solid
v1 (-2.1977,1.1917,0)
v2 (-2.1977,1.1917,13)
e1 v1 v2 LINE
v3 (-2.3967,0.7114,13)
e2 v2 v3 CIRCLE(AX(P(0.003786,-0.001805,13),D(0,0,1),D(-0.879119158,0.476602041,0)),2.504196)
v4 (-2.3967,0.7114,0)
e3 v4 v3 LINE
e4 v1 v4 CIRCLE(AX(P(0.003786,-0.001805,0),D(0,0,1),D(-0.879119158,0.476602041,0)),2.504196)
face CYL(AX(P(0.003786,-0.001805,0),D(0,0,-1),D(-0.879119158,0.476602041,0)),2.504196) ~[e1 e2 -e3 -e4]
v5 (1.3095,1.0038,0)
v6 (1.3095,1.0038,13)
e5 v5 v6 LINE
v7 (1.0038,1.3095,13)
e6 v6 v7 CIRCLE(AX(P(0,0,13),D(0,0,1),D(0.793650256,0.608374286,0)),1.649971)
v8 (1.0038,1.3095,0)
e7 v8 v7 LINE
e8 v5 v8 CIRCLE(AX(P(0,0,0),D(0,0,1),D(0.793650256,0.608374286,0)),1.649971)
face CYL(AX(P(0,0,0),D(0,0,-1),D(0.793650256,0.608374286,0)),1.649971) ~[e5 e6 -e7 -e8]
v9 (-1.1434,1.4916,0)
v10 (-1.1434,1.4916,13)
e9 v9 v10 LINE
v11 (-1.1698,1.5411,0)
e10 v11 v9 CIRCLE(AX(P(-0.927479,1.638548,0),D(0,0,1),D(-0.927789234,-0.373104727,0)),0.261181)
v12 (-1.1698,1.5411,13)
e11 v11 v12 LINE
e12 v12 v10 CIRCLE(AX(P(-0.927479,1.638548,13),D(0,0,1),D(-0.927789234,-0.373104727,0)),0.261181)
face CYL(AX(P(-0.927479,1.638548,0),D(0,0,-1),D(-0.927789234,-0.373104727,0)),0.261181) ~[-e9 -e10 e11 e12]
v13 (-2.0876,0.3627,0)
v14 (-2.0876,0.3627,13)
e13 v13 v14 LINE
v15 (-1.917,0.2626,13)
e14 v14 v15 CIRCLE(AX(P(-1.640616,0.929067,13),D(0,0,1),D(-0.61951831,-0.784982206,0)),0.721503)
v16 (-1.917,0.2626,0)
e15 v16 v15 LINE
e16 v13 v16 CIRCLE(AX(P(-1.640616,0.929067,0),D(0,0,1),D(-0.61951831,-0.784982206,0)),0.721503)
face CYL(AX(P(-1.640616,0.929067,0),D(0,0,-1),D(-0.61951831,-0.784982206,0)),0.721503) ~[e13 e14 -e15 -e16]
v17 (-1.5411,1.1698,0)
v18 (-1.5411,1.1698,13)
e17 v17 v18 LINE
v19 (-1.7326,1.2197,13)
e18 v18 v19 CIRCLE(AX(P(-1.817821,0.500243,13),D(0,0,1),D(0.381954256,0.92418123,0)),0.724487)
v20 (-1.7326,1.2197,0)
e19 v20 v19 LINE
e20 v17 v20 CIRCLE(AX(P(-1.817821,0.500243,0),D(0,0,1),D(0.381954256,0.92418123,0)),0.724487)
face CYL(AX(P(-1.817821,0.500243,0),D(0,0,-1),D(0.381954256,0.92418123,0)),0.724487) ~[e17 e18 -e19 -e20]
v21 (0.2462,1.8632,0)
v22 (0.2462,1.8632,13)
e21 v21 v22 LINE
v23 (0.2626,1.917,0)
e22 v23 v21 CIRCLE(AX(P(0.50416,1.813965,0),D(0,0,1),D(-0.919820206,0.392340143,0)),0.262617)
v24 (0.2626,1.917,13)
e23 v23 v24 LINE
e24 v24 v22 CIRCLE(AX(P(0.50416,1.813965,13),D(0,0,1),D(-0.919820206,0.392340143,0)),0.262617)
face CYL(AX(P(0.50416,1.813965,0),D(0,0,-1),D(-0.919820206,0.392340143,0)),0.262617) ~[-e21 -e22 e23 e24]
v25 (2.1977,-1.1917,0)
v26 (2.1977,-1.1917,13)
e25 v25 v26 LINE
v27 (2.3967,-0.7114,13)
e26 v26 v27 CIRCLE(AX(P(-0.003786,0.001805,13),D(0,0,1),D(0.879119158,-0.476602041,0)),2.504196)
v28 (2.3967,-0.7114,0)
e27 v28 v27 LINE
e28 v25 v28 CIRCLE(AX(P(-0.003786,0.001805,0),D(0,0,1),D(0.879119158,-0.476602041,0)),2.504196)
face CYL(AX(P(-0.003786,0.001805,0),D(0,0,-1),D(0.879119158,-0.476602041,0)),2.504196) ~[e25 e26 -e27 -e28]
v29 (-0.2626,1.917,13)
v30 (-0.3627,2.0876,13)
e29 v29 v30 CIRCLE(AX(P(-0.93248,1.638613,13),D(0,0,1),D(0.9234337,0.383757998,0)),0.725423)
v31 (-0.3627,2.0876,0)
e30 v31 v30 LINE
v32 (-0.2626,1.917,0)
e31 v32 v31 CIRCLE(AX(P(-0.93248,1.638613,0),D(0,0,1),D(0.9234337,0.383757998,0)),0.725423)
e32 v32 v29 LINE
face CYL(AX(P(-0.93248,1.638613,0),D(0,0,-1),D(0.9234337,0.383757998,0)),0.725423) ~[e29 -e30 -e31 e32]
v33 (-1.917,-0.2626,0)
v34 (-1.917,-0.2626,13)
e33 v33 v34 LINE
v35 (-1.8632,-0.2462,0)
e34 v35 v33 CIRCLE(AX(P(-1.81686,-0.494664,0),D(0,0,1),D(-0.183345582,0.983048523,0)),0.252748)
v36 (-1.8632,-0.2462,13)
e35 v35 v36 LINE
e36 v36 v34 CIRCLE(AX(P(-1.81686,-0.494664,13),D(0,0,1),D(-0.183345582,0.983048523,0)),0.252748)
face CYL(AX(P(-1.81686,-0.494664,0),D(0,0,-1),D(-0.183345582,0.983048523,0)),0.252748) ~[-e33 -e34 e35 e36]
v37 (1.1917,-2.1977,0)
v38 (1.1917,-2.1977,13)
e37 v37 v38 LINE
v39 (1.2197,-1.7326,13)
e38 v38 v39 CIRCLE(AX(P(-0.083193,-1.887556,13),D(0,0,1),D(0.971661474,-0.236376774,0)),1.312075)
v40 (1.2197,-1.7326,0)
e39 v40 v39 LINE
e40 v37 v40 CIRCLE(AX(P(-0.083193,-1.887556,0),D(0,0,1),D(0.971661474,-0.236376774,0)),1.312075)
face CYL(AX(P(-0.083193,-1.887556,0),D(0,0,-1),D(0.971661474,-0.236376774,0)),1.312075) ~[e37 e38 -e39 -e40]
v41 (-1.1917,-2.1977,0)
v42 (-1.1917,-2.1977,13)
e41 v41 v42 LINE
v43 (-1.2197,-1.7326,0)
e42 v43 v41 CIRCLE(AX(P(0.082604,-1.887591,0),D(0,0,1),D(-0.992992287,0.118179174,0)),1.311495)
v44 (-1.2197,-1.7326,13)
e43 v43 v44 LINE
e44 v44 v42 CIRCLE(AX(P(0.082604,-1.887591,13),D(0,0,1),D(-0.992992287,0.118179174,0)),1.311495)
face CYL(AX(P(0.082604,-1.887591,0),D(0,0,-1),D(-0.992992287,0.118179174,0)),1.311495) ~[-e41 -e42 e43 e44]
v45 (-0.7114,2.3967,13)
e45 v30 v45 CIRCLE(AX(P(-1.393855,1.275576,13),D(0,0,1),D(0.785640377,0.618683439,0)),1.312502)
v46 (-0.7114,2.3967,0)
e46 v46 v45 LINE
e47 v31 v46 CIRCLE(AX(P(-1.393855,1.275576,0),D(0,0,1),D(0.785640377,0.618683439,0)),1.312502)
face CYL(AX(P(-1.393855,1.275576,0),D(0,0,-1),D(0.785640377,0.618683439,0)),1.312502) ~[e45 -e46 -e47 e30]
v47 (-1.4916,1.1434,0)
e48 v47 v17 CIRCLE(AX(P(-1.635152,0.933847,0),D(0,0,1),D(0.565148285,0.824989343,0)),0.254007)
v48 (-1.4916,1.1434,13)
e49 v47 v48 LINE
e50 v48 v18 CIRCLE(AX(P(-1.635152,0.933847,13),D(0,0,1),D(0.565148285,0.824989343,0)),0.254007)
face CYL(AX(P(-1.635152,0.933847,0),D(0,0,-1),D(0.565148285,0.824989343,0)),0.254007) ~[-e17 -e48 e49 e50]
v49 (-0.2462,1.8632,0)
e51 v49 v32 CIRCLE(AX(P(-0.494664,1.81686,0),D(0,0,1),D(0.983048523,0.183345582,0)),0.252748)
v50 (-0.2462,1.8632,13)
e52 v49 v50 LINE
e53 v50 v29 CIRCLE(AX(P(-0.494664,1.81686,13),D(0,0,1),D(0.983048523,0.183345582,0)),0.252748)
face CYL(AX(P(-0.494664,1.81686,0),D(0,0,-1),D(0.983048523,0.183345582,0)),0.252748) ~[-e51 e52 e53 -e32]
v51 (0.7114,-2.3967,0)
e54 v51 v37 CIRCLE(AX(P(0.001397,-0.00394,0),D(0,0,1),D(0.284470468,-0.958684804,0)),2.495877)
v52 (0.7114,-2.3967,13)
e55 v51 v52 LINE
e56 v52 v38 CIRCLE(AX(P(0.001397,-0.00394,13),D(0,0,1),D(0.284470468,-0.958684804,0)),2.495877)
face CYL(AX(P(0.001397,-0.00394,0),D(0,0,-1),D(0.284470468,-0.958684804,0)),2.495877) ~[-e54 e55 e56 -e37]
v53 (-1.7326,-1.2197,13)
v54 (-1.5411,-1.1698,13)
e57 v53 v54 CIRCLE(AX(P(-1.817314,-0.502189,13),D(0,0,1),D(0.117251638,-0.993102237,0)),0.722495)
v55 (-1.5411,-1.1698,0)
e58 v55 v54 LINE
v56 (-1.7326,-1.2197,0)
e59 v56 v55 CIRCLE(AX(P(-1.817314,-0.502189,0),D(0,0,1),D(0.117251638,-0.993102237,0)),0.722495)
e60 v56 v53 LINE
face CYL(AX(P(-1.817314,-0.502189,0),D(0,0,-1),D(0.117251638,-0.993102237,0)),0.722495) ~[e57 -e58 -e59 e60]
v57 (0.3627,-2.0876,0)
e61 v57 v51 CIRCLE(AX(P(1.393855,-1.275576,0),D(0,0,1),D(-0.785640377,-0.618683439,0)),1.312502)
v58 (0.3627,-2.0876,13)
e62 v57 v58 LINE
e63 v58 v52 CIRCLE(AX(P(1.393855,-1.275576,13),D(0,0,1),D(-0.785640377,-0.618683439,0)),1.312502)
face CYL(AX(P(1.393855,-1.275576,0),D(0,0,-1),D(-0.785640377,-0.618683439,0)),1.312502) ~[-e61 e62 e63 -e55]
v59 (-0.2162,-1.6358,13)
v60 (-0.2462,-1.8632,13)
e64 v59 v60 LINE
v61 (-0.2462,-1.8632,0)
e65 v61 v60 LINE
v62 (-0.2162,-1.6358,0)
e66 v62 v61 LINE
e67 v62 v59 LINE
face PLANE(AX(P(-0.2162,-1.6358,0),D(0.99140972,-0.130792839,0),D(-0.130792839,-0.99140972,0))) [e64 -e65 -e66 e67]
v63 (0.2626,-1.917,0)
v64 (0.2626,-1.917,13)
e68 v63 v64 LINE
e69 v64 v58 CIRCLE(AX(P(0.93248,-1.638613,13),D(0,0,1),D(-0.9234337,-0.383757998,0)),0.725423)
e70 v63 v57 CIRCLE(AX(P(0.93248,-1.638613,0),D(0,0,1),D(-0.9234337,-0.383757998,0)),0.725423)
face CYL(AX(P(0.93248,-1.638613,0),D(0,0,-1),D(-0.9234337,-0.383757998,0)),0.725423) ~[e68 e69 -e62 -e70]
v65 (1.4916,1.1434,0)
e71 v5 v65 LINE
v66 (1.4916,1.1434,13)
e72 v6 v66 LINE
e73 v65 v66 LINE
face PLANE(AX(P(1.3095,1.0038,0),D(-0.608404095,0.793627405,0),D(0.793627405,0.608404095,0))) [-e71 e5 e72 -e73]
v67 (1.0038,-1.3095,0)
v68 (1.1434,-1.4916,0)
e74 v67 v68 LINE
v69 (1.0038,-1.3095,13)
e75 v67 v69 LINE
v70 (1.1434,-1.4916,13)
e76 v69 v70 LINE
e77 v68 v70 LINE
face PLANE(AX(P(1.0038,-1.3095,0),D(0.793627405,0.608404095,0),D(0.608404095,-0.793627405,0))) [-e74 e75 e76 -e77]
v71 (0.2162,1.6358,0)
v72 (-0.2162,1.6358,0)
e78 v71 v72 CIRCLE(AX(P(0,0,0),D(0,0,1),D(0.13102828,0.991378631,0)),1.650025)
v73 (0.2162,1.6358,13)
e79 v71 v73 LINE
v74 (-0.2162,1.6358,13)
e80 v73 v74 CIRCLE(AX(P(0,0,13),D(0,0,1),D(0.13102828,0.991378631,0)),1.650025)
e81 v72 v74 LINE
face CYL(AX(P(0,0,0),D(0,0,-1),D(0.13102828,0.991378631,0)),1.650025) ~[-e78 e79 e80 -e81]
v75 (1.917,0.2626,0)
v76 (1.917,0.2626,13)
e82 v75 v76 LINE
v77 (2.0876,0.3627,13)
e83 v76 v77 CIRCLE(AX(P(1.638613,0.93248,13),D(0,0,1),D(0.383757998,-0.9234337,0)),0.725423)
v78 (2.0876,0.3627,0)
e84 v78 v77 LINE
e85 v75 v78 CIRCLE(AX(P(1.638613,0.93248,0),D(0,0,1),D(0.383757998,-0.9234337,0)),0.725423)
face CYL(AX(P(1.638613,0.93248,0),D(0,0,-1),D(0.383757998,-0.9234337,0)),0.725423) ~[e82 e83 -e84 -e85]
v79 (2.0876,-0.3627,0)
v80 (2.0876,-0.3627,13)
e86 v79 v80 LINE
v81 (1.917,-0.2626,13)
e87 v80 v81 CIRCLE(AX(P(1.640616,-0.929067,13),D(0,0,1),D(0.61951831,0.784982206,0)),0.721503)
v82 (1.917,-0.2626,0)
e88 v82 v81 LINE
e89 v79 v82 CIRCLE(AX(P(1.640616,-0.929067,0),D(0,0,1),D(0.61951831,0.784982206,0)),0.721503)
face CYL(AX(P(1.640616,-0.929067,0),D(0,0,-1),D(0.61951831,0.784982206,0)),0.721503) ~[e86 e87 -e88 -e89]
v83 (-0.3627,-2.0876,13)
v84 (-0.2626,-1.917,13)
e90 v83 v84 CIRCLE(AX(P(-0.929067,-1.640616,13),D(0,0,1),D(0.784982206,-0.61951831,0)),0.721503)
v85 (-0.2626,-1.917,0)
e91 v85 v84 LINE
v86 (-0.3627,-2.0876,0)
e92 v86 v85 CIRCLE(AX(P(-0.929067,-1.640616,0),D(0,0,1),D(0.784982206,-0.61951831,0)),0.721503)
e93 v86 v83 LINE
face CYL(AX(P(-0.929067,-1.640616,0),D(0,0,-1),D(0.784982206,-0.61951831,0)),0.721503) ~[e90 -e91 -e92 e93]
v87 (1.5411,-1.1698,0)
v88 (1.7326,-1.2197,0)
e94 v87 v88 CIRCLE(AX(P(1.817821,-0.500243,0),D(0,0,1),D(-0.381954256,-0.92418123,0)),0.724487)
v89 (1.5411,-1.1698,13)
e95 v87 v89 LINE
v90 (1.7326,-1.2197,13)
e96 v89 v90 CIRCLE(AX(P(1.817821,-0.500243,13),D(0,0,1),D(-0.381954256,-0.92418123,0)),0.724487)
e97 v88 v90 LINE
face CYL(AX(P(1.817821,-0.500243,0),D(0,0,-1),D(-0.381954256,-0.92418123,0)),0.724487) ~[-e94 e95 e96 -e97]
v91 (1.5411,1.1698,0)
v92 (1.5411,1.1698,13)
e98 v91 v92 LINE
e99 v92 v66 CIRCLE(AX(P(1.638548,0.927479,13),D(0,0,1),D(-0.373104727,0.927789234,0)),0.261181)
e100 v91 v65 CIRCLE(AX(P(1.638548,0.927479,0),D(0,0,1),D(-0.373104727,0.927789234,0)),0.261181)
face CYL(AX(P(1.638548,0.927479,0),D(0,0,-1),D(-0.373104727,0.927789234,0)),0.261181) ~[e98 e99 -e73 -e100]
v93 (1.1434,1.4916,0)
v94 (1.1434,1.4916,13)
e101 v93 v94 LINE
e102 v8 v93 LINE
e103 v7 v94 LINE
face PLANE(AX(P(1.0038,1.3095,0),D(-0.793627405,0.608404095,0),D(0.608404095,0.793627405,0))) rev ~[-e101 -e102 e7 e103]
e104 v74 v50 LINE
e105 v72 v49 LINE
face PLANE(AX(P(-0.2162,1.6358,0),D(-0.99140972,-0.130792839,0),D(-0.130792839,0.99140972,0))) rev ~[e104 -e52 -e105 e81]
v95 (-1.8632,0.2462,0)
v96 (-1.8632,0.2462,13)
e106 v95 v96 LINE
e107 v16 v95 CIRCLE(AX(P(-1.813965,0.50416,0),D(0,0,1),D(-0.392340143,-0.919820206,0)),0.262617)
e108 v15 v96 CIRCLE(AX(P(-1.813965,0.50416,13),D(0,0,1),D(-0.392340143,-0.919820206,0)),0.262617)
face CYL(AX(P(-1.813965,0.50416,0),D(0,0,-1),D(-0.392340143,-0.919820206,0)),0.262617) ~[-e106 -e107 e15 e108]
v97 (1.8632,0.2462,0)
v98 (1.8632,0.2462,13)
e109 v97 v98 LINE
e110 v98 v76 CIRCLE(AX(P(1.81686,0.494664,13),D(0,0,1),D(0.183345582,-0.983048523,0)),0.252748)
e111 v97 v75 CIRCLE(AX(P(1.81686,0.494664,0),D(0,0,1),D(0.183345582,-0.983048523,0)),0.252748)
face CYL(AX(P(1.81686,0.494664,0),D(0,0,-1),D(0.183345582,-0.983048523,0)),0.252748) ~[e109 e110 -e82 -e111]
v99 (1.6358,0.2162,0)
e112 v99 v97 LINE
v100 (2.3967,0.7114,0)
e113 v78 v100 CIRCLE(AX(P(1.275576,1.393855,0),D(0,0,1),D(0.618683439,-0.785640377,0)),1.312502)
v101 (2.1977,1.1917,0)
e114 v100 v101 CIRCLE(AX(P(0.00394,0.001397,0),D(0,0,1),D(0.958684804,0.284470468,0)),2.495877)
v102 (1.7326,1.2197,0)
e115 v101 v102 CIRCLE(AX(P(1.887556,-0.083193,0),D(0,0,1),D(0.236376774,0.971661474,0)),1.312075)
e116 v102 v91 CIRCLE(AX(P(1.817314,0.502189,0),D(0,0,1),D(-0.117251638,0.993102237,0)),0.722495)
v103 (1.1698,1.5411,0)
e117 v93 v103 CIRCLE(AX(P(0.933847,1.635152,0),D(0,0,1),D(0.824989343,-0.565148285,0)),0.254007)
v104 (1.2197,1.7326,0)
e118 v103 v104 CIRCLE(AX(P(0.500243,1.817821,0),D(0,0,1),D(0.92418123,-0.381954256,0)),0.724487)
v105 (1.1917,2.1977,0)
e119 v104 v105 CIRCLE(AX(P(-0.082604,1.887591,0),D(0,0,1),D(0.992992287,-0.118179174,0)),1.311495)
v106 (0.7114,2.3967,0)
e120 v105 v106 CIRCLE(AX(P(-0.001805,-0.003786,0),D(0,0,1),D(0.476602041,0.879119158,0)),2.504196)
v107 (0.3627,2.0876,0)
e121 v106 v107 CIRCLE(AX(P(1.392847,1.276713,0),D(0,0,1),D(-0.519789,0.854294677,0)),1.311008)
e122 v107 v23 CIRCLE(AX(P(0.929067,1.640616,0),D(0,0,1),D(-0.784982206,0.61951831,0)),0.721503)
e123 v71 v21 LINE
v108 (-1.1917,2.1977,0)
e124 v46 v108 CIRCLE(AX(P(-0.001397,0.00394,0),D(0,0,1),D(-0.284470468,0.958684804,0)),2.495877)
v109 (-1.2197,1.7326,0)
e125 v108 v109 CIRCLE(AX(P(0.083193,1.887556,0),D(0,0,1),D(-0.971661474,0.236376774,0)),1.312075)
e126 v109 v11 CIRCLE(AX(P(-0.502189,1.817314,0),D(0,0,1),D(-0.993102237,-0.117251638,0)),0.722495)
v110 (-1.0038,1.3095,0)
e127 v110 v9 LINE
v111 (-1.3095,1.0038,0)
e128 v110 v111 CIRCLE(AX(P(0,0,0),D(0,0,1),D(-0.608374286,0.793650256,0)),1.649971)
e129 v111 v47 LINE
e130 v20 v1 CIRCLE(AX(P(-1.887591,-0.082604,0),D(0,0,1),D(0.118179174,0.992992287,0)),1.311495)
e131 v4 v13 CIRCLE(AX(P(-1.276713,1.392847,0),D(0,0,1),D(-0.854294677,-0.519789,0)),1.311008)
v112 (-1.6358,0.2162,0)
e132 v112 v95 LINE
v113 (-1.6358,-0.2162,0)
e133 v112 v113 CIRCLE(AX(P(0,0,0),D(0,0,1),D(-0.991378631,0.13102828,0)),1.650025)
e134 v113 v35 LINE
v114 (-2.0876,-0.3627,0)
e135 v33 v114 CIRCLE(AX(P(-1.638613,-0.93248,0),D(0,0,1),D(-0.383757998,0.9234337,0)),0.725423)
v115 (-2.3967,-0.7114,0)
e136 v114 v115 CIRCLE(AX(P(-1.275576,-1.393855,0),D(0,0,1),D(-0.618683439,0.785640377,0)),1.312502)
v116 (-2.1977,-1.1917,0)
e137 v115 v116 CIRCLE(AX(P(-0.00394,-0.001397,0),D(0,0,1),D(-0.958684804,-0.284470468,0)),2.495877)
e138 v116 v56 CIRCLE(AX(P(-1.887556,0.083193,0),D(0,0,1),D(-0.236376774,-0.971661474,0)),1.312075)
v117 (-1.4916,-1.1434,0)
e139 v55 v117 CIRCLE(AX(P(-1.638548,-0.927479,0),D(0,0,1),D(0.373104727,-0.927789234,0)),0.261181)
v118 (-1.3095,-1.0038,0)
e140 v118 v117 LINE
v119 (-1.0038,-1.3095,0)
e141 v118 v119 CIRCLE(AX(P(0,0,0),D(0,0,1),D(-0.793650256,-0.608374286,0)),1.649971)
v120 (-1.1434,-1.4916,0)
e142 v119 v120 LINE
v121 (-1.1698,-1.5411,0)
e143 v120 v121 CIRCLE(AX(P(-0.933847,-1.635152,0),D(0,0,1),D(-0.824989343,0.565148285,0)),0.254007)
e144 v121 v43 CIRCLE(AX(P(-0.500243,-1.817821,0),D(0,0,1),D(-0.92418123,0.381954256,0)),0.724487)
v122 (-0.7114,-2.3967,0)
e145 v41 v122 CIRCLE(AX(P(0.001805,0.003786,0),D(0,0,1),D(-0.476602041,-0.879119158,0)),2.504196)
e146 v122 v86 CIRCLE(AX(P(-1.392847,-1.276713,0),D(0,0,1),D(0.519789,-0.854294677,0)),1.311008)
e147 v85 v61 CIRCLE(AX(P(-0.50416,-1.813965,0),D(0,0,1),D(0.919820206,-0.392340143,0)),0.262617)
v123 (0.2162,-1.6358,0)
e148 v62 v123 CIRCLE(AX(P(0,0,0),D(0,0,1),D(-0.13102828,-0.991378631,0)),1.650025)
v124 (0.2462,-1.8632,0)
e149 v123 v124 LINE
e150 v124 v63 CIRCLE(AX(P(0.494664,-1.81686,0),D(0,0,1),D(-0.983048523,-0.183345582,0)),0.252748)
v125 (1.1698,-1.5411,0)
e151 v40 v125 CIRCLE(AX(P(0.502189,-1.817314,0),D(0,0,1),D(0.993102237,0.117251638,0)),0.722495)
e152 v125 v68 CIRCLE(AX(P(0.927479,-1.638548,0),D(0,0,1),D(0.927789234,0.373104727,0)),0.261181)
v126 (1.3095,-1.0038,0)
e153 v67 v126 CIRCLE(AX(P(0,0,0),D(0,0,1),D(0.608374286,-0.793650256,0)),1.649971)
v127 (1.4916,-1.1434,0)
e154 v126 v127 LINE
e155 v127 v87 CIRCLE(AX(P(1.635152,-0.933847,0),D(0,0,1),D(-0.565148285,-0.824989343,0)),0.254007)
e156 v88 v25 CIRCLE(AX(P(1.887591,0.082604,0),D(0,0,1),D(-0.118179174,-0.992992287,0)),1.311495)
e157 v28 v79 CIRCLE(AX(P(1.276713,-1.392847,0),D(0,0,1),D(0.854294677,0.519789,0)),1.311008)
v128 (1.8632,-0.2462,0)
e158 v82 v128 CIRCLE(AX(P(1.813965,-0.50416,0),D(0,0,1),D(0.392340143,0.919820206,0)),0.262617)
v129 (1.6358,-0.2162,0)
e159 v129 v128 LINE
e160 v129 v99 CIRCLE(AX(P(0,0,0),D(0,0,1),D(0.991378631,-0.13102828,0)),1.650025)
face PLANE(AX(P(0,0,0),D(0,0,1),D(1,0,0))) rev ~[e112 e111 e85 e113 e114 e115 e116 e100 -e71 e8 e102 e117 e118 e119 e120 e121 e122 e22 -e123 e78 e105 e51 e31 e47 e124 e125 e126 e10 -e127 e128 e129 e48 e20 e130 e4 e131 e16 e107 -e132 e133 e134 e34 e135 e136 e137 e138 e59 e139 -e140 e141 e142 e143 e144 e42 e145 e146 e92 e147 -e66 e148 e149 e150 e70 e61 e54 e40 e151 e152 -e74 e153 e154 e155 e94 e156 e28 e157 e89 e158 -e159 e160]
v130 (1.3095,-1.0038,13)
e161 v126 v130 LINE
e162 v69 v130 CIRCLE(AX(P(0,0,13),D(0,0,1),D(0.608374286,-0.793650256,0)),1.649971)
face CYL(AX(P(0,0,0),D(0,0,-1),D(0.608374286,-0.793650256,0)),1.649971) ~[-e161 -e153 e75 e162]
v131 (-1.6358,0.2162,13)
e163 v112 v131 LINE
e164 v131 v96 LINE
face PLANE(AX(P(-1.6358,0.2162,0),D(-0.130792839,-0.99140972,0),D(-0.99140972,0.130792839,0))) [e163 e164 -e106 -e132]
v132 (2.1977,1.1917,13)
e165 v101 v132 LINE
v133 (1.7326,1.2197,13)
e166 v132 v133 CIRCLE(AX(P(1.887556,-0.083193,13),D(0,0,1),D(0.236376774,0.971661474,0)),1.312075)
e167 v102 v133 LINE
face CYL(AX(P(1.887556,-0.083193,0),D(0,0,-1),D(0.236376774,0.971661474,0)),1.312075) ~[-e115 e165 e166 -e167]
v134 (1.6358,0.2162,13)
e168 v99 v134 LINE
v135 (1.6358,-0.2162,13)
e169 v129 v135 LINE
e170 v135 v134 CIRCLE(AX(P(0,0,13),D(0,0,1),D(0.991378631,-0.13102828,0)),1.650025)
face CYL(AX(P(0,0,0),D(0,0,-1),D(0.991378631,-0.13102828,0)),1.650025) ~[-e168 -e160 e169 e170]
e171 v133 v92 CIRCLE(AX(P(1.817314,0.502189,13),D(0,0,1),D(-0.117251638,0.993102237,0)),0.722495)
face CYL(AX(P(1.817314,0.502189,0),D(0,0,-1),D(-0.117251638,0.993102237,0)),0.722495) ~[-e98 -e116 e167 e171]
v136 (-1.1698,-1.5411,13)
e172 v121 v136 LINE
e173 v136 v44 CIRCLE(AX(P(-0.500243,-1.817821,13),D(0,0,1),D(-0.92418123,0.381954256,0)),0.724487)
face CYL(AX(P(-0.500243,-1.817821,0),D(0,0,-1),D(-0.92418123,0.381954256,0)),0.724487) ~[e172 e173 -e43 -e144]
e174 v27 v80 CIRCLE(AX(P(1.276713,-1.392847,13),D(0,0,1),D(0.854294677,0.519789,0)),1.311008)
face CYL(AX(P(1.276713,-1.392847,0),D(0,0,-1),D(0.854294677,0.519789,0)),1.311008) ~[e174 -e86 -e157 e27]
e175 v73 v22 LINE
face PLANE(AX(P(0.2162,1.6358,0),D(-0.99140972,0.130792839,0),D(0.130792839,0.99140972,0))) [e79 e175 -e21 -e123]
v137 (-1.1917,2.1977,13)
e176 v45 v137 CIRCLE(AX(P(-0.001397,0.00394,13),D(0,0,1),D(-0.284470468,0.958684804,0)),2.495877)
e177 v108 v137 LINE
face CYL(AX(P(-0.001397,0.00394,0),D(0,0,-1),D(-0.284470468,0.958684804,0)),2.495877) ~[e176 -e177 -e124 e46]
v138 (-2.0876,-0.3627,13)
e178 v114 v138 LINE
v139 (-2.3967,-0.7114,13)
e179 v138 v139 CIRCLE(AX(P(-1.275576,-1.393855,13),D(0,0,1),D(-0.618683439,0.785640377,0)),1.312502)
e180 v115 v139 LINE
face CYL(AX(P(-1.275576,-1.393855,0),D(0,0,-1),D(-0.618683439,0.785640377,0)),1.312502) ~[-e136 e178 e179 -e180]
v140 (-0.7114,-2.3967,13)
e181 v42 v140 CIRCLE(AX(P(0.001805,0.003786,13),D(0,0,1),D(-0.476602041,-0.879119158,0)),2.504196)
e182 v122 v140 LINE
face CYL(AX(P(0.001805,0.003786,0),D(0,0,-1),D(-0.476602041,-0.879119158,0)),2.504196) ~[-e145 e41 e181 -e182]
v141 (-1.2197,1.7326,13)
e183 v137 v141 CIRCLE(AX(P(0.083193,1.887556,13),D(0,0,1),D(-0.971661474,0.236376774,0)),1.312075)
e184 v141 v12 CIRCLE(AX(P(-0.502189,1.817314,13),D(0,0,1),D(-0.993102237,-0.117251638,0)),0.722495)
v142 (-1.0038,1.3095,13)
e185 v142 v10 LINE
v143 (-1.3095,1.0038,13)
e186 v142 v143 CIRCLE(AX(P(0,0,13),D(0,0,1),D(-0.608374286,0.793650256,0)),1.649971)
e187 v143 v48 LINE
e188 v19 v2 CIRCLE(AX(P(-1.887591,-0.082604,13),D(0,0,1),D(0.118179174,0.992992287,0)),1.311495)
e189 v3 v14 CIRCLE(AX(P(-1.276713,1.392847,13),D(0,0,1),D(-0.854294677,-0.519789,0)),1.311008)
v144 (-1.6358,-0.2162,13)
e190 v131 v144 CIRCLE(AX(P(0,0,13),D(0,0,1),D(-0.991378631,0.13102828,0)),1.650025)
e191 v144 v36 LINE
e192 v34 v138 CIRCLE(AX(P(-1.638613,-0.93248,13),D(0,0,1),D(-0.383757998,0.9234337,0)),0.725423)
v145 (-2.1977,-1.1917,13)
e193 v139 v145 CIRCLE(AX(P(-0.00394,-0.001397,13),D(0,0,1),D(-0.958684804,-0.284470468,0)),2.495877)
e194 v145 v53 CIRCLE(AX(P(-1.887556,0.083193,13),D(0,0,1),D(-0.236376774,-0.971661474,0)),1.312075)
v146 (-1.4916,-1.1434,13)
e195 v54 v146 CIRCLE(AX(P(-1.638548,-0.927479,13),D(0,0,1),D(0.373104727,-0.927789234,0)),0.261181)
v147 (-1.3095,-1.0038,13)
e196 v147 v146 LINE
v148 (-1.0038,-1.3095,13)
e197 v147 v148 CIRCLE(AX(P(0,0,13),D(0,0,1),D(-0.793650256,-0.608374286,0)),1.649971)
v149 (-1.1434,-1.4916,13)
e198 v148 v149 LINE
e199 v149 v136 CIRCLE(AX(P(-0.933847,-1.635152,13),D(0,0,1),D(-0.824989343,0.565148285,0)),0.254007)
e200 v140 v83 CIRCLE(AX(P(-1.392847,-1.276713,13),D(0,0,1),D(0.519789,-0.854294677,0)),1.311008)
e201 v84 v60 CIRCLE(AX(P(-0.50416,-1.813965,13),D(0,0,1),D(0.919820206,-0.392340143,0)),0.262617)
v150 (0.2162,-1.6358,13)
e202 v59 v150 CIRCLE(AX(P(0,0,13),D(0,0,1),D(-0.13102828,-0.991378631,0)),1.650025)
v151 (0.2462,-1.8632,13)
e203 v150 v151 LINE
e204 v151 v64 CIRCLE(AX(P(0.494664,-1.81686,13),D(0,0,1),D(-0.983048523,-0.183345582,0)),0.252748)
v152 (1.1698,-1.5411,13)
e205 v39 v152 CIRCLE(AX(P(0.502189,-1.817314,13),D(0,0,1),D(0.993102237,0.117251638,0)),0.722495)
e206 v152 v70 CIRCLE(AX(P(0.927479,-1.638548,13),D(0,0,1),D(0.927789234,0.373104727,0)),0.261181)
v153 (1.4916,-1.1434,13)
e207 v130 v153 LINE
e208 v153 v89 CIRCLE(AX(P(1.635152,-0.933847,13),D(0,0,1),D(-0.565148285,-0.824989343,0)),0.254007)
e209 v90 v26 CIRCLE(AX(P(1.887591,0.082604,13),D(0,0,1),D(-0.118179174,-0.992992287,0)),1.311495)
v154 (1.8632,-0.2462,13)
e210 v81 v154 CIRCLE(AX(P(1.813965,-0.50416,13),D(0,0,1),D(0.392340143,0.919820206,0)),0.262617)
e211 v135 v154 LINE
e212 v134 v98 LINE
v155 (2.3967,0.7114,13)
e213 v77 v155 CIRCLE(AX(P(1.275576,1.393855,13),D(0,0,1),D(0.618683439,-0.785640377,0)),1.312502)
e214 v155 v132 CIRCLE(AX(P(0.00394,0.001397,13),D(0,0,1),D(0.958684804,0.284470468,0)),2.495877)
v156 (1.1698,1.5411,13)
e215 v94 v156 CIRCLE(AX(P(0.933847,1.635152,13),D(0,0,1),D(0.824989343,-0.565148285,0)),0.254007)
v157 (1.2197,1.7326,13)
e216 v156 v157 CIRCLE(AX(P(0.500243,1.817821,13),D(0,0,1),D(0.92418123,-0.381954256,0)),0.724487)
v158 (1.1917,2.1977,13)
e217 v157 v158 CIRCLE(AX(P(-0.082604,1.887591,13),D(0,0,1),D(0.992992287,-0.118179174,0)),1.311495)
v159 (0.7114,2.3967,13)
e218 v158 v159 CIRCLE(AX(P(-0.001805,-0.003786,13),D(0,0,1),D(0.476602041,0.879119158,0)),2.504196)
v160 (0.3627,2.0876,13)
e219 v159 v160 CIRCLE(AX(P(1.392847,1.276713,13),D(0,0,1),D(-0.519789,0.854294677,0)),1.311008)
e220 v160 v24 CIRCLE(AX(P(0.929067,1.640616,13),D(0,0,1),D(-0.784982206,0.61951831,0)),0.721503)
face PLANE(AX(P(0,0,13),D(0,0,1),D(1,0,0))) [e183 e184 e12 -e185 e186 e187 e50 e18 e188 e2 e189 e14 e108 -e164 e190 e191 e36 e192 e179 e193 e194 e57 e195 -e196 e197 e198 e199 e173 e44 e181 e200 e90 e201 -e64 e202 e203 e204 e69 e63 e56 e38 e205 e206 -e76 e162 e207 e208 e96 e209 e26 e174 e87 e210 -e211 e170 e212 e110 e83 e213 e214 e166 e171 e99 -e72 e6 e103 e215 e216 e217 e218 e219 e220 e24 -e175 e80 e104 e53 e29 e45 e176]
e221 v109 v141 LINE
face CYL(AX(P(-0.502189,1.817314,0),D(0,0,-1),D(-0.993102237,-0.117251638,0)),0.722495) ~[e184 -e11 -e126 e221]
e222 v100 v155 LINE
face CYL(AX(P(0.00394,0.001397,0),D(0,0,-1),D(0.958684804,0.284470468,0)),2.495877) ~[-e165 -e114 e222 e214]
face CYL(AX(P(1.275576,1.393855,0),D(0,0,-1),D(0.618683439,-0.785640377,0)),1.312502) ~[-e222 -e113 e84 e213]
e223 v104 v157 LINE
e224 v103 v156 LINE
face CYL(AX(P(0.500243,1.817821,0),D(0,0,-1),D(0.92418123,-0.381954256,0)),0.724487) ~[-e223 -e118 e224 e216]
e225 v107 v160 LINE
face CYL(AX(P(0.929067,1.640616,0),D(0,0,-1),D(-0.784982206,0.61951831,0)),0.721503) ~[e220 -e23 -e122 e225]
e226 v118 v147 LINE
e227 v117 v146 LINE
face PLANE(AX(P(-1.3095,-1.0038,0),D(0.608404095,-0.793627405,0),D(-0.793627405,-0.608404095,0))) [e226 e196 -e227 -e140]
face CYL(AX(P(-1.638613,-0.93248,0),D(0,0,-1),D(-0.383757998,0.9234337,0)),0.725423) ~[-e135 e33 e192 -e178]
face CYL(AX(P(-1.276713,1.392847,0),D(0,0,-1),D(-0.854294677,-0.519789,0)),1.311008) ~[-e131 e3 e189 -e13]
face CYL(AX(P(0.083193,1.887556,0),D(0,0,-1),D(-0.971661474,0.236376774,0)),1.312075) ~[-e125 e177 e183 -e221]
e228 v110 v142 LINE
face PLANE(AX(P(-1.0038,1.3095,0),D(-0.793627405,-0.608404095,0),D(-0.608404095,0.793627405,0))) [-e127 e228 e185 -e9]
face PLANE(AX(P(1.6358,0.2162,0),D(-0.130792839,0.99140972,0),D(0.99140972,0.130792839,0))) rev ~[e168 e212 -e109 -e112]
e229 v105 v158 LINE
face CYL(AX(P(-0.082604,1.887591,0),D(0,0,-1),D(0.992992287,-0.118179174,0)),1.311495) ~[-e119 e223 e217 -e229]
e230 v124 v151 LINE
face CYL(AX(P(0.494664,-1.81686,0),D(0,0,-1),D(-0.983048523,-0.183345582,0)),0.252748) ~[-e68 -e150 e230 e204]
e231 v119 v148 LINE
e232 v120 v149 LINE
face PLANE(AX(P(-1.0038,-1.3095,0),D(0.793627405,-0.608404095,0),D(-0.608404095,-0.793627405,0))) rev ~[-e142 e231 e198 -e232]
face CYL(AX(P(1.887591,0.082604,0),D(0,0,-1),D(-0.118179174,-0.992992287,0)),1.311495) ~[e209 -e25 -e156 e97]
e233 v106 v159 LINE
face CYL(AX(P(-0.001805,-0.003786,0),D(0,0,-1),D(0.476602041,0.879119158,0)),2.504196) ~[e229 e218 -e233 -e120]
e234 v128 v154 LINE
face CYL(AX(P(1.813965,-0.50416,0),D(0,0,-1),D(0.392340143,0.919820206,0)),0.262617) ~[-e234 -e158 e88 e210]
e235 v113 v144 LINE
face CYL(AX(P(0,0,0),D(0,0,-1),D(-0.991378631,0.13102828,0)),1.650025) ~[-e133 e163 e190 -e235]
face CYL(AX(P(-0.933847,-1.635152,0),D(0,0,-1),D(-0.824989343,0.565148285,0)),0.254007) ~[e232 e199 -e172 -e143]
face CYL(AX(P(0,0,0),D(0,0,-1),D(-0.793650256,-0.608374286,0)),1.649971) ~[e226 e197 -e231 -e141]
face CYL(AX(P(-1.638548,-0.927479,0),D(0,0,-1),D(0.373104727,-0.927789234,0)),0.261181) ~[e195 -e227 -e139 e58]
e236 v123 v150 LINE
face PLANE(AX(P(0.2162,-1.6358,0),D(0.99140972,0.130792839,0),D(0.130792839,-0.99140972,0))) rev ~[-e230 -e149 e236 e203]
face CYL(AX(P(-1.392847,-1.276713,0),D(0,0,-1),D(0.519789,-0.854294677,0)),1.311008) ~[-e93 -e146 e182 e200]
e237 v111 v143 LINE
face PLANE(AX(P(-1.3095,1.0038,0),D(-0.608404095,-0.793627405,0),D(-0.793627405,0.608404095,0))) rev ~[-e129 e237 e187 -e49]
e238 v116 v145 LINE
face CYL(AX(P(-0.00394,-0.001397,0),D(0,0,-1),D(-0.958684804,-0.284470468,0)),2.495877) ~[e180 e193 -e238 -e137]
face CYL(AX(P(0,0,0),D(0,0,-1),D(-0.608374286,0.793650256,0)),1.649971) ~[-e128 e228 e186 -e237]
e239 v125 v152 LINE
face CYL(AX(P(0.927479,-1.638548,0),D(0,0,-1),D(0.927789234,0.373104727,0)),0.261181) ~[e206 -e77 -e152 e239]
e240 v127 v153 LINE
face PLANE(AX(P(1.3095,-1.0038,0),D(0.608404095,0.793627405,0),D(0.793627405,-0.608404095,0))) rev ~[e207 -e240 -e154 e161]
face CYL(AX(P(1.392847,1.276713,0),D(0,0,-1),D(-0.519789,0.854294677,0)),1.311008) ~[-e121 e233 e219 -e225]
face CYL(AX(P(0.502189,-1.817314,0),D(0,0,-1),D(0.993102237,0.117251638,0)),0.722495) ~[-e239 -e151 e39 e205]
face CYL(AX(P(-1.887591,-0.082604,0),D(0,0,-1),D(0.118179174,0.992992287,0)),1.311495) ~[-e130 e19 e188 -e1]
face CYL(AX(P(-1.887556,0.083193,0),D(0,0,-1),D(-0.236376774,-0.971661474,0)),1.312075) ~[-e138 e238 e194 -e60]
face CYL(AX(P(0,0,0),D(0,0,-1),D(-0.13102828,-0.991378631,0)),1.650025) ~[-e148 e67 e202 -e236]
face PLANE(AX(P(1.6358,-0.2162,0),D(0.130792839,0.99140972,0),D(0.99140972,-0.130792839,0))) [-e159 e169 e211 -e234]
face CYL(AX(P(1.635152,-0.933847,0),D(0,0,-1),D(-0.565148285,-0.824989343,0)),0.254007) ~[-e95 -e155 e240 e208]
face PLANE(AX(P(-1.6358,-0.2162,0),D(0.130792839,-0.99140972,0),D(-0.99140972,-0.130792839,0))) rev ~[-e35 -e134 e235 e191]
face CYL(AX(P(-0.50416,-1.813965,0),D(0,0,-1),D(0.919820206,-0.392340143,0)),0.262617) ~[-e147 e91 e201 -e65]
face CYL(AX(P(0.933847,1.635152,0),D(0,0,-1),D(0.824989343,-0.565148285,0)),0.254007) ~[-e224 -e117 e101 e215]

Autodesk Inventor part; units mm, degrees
ref_plane "YZ Plane" through (0, 0, 0) normal (1, 0, 0) x (0, 1, 0)
ref_plane "XZ Plane" through (0, 0, 0) normal (0, 1, 0) x (-1, 0, 0)
ref_plane "XY Plane" through (0, 0, 0) normal (0, 0, 1) x (1, 0, 0)
sketch "Sketch2" plane through (0, 0, 0) normal (0, 0, 1) x (1, 0, 0)
  arc A0 (0.2626, 1.917) -> (0.2462, 1.8632) centre (0.4994, 1.8157) ccw
  arc A1 (0.3627, 2.0876) -> (0.2626, 1.917) centre (0.9307, 1.6395) ccw
  arc A2 (0.7114, 2.3967) -> (0.3627, 2.0876) centre (1.3933, 1.2761) ccw
  arc A3 (-1.1698, 1.5411) -> (-1.1434, 1.4916) centre (-0.9308, 1.637) ccw
  arc A4 (-1.2197, 1.7326) -> (-1.1698, 1.5411) centre (-0.5012, 1.8175) ccw
  arc A5 (-1.1917, 2.1977) -> (-1.2197, 1.7326) centre (0.0829, 1.8876) ccw
  arc A6 (-1.917, 0.2626) -> (-1.8632, 0.2462) centre (-1.8157, 0.4994) ccw
  arc A7 (-2.0876, 0.3627) -> (-1.917, 0.2626) centre (-1.6395, 0.9307) ccw
  arc A8 (-2.3967, 0.7114) -> (-2.0876, 0.3627) centre (-1.2761, 1.3933) ccw
  arc A9 (-1.5411, -1.1698) -> (-1.4916, -1.1434) centre (-1.637, -0.9308) ccw
  arc A10 (-1.7326, -1.2197) -> (-1.5411, -1.1698) centre (-1.8175, -0.5012) ccw
  arc A11 (-2.1977, -1.1917) -> (-1.7326, -1.2197) centre (-1.8876, 0.0829) ccw
  arc A12 (-0.2626, -1.917) -> (-0.2462, -1.8632) centre (-0.4994, -1.8157) ccw
  arc A13 (-0.3627, -2.0876) -> (-0.2626, -1.917) centre (-0.9307, -1.6395) ccw
  arc A14 (-0.7114, -2.3967) -> (-0.3627, -2.0876) centre (-1.3933, -1.2761) ccw
  arc A15 (1.1698, -1.5411) -> (1.1434, -1.4916) centre (0.9308, -1.637) ccw
  arc A16 (1.2197, -1.7326) -> (1.1698, -1.5411) centre (0.5012, -1.8175) ccw
  arc A17 (1.1917, -2.1977) -> (1.2197, -1.7326) centre (-0.0829, -1.8876) ccw
  arc A18 (1.917, -0.2626) -> (1.8632, -0.2462) centre (1.8157, -0.4994) ccw
  arc A19 (2.0876, -0.3627) -> (1.917, -0.2626) centre (1.6395, -0.9307) ccw
  arc A20 (2.3967, -0.7114) -> (2.0876, -0.3627) centre (1.2761, -1.3933) ccw
  arc A21 (1.5411, 1.1698) -> (1.4916, 1.1434) centre (1.637, 0.9308) ccw
  arc A22 (1.7326, 1.2197) -> (1.5411, 1.1698) centre (1.8175, 0.5012) ccw
  arc A23 (2.1977, 1.1917) -> (1.7326, 1.2197) centre (1.8876, -0.0829) ccw
  arc A24 (-0.2462, 1.8632) -> (-0.2626, 1.917) centre (-0.4994, 1.8157) ccw
  arc A25 (-0.2626, 1.917) -> (-0.3627, 2.0876) centre (-0.9307, 1.6395) ccw
  arc A26 (-0.3627, 2.0876) -> (-0.7114, 2.3967) centre (-1.3933, 1.2761) ccw
  arc A27 (-1.4916, 1.1434) -> (-1.5411, 1.1698) centre (-1.637, 0.9308) ccw
  arc A28 (-1.5411, 1.1698) -> (-1.7326, 1.2197) centre (-1.8175, 0.5012) ccw
  arc A29 (-1.7326, 1.2197) -> (-2.1977, 1.1917) centre (-1.8876, -0.0829) ccw
  arc A30 (-1.8632, -0.2462) -> (-1.917, -0.2626) centre (-1.8157, -0.4994) ccw
  arc A31 (-1.917, -0.2626) -> (-2.0876, -0.3627) centre (-1.6395, -0.9307) ccw
  arc A32 (-2.0876, -0.3627) -> (-2.3967, -0.7114) centre (-1.2761, -1.3933) ccw
  arc A33 (-1.1434, -1.4916) -> (-1.1698, -1.5411) centre (-0.9308, -1.637) ccw
  arc A34 (-1.1698, -1.5411) -> (-1.2197, -1.7326) centre (-0.5012, -1.8175) ccw
  arc A35 (-1.2197, -1.7326) -> (-1.1917, -2.1977) centre (0.0829, -1.8876) ccw
  arc A36 (0.2462, -1.8632) -> (0.2626, -1.917) centre (0.4994, -1.8157) ccw
  arc A37 (0.2626, -1.917) -> (0.3627, -2.0876) centre (0.9307, -1.6395) ccw
  arc A38 (0.3627, -2.0876) -> (0.7114, -2.3967) centre (1.3933, -1.2761) ccw
  arc A39 (1.4916, -1.1434) -> (1.5411, -1.1698) centre (1.637, -0.9308) ccw
  arc A40 (1.5411, -1.1698) -> (1.7326, -1.2197) centre (1.8175, -0.5012) ccw
  arc A41 (1.7326, -1.2197) -> (2.1977, -1.1917) centre (1.8876, 0.0829) ccw
  arc A42 (1.8632, 0.2462) -> (1.917, 0.2626) centre (1.8157, 0.4994) ccw
  arc A43 (1.917, 0.2626) -> (2.0876, 0.3627) centre (1.6395, 0.9307) ccw
  arc A44 (2.0876, 0.3627) -> (2.3967, 0.7114) centre (1.2761, 1.3933) ccw
  arc A45 (1.1434, 1.4916) -> (1.1698, 1.5411) centre (0.9308, 1.637) ccw
  arc A46 (1.1698, 1.5411) -> (1.2197, 1.7326) centre (0.5012, 1.8175) ccw
  arc A47 (1.2197, 1.7326) -> (1.1917, 2.1977) centre (-0.0829, 1.8876) ccw
  arc A48 (0.2162, 1.6358) -> (-0.2162, 1.6358) centre (0, 0) ccw
  arc A49 (-1.0038, 1.3095) -> (-1.3095, 1.0038) centre (0, 0) ccw
  arc A50 (-1.6358, 0.2162) -> (-1.6358, -0.2162) centre (0, 0) ccw
  arc A51 (-1.3095, -1.0038) -> (-1.0038, -1.3095) centre (0, 0) ccw
  arc A52 (-0.2162, -1.6358) -> (0.2162, -1.6358) centre (0, 0) ccw
  arc A53 (1.0038, -1.3095) -> (1.3095, -1.0038) centre (0, 0) ccw
  arc A54 (1.6358, -0.2162) -> (1.6358, 0.2162) centre (0, 0) ccw
  arc A55 (1.3095, 1.0038) -> (1.0038, 1.3095) centre (0, 0) ccw
  arc A56 (-0.7114, 2.3967) -> (-1.1917, 2.1977) centre (0, 0) ccw
  arc A57 (-2.1977, 1.1917) -> (-2.3967, 0.7114) centre (0, 0) ccw
  arc A58 (-2.3967, -0.7114) -> (-2.1977, -1.1917) centre (0, 0) ccw
  arc A59 (-1.1917, -2.1977) -> (-0.7114, -2.3967) centre (0, 0) ccw
  arc A60 (0.7114, -2.3967) -> (1.1917, -2.1977) centre (0, 0) ccw
  arc A61 (2.1977, -1.1917) -> (2.3967, -0.7114) centre (0, 0) ccw
  arc A62 (2.3967, 0.7114) -> (2.1977, 1.1917) centre (0, 0) ccw
  arc A63 (1.1917, 2.1977) -> (0.7114, 2.3967) centre (0, 0) ccw
  line L0 (0.2162, 1.6358) -> (0.2462, 1.8632)
  line L1 (-1.0038, 1.3095) -> (-1.1434, 1.4916)
  line L2 (-1.6358, 0.2162) -> (-1.8632, 0.2462)
  line L3 (-1.3095, -1.0038) -> (-1.4916, -1.1434)
  line L4 (-0.2162, -1.6358) -> (-0.2462, -1.8632)
  line L5 (1.0038, -1.3095) -> (1.1434, -1.4916)
  line L6 (1.6358, -0.2162) -> (1.8632, -0.2462)
  line L7 (1.3095, 1.0038) -> (1.4916, 1.1434)
  line L8 (-0.2162, 1.6358) -> (-0.2462, 1.8632)
  line L9 (-1.3095, 1.0038) -> (-1.4916, 1.1434)
  line L10 (-1.6358, -0.2162) -> (-1.8632, -0.2462)
  line L11 (-1.0038, -1.3095) -> (-1.1434, -1.4916)
  line L12 (0.2162, -1.6358) -> (0.2462, -1.8632)
  line L13 (1.3095, -1.0038) -> (1.4916, -1.1434)
  line L14 (1.6358, 0.2162) -> (1.8632, 0.2462)
  line L15 (1.0038, 1.3095) -> (1.1434, 1.4916)
  point P0 (1.3095, 1.0038)
  point P1 (1.0038, 1.3095)
  point P2 (1.1434, 1.4916)
  point P3 (1.1683, 1.5373)
  point P4 (1.2195, 1.7312)
  point P5 (1.1917, 2.1977)
  point P6 (0.7114, 2.3967)
  point P7 (0.3618, 2.0865)
  point P8 (0.261, 1.9131)
  point P9 (0.2462, 1.8632)
  point P10 (0.2162, 1.6358)
  point P11 (-0.2162, 1.6358)
  point P12 (-0.2462, 1.8632)
  point P13 (-0.261, 1.9131)
  point P14 (-0.3618, 2.0865)
  point P15 (-0.7114, 2.3967)
  point P16 (-1.1917, 2.1977)
  point P17 (-1.2195, 1.7312)
  point P18 (-1.1683, 1.5373)
  point P19 (-1.1434, 1.4916)
  point P20 (-1.0038, 1.3095)
  point P21 (-1.3095, 1.0038)
  point P22 (-1.4916, 1.1434)
  point P23 (-1.5373, 1.1683)
  point P24 (-1.7312, 1.2195)
  point P25 (-2.1977, 1.1917)
  point P26 (-2.3967, 0.7114)
  point P27 (-2.0865, 0.3618)
  point P28 (-1.9131, 0.261)
  point P29 (-1.8632, 0.2462)
  point P30 (-1.6358, 0.2162)
  point P31 (-1.6358, -0.2162)
  point P32 (-1.8632, -0.2462)
  point P33 (-1.9131, -0.261)
  point P34 (-2.0865, -0.3618)
  point P35 (-2.3967, -0.7114)
  point P36 (-2.1977, -1.1917)
  point P37 (-1.7312, -1.2195)
  point P38 (-1.5373, -1.1683)
  point P39 (-1.4916, -1.1434)
  point P40 (-1.3095, -1.0038)
  point P41 (-1.0038, -1.3095)
  point P42 (-1.1434, -1.4916)
  point P43 (-1.1683, -1.5373)
  point P44 (-1.2195, -1.7312)
  point P45 (-1.1917, -2.1977)
  point P46 (-0.7114, -2.3967)
  point P47 (-0.3618, -2.0865)
  point P48 (-0.261, -1.9131)
  point P49 (-0.2462, -1.8632)
  point P50 (-0.2162, -1.6358)
  point P51 (0.2162, -1.6358)
  point P52 (0.2462, -1.8632)
  point P53 (0.261, -1.9131)
  point P54 (0.3618, -2.0865)
  point P55 (0.7114, -2.3967)
  point P56 (1.1917, -2.1977)
  point P57 (1.2195, -1.7312)
  point P58 (1.1683, -1.5373)
  point P59 (1.1434, -1.4916)
  point P60 (1.0038, -1.3095)
  point P61 (1.3095, -1.0038)
  point P62 (1.4916, -1.1434)
  point P63 (1.5373, -1.1683)
  point P64 (1.7312, -1.2195)
  point P65 (2.1977, -1.1917)
  point P66 (2.3967, -0.7114)
  point P67 (2.0865, -0.3618)
  point P68 (1.9131, -0.261)
  point P69 (1.8632, -0.2462)
  point P70 (1.6358, -0.2162)
  point P71 (1.6358, 0.2162)
  point P72 (1.8632, 0.2462)
  point P73 (1.9131, 0.261)
  point P74 (2.0865, 0.3618)
  point P75 (2.3967, 0.7114)
  point P76 (2.1977, 1.1917)
  point P77 (1.7312, 1.2195)
  point P78 (1.5373, 1.1683)
  point P79 (1.4916, 1.1434)
extrude "Extrusion2" add sketch "Sketch2" along normal blind 13
properties part number "ぴにょん" material "Aluminum 2014-T6"
